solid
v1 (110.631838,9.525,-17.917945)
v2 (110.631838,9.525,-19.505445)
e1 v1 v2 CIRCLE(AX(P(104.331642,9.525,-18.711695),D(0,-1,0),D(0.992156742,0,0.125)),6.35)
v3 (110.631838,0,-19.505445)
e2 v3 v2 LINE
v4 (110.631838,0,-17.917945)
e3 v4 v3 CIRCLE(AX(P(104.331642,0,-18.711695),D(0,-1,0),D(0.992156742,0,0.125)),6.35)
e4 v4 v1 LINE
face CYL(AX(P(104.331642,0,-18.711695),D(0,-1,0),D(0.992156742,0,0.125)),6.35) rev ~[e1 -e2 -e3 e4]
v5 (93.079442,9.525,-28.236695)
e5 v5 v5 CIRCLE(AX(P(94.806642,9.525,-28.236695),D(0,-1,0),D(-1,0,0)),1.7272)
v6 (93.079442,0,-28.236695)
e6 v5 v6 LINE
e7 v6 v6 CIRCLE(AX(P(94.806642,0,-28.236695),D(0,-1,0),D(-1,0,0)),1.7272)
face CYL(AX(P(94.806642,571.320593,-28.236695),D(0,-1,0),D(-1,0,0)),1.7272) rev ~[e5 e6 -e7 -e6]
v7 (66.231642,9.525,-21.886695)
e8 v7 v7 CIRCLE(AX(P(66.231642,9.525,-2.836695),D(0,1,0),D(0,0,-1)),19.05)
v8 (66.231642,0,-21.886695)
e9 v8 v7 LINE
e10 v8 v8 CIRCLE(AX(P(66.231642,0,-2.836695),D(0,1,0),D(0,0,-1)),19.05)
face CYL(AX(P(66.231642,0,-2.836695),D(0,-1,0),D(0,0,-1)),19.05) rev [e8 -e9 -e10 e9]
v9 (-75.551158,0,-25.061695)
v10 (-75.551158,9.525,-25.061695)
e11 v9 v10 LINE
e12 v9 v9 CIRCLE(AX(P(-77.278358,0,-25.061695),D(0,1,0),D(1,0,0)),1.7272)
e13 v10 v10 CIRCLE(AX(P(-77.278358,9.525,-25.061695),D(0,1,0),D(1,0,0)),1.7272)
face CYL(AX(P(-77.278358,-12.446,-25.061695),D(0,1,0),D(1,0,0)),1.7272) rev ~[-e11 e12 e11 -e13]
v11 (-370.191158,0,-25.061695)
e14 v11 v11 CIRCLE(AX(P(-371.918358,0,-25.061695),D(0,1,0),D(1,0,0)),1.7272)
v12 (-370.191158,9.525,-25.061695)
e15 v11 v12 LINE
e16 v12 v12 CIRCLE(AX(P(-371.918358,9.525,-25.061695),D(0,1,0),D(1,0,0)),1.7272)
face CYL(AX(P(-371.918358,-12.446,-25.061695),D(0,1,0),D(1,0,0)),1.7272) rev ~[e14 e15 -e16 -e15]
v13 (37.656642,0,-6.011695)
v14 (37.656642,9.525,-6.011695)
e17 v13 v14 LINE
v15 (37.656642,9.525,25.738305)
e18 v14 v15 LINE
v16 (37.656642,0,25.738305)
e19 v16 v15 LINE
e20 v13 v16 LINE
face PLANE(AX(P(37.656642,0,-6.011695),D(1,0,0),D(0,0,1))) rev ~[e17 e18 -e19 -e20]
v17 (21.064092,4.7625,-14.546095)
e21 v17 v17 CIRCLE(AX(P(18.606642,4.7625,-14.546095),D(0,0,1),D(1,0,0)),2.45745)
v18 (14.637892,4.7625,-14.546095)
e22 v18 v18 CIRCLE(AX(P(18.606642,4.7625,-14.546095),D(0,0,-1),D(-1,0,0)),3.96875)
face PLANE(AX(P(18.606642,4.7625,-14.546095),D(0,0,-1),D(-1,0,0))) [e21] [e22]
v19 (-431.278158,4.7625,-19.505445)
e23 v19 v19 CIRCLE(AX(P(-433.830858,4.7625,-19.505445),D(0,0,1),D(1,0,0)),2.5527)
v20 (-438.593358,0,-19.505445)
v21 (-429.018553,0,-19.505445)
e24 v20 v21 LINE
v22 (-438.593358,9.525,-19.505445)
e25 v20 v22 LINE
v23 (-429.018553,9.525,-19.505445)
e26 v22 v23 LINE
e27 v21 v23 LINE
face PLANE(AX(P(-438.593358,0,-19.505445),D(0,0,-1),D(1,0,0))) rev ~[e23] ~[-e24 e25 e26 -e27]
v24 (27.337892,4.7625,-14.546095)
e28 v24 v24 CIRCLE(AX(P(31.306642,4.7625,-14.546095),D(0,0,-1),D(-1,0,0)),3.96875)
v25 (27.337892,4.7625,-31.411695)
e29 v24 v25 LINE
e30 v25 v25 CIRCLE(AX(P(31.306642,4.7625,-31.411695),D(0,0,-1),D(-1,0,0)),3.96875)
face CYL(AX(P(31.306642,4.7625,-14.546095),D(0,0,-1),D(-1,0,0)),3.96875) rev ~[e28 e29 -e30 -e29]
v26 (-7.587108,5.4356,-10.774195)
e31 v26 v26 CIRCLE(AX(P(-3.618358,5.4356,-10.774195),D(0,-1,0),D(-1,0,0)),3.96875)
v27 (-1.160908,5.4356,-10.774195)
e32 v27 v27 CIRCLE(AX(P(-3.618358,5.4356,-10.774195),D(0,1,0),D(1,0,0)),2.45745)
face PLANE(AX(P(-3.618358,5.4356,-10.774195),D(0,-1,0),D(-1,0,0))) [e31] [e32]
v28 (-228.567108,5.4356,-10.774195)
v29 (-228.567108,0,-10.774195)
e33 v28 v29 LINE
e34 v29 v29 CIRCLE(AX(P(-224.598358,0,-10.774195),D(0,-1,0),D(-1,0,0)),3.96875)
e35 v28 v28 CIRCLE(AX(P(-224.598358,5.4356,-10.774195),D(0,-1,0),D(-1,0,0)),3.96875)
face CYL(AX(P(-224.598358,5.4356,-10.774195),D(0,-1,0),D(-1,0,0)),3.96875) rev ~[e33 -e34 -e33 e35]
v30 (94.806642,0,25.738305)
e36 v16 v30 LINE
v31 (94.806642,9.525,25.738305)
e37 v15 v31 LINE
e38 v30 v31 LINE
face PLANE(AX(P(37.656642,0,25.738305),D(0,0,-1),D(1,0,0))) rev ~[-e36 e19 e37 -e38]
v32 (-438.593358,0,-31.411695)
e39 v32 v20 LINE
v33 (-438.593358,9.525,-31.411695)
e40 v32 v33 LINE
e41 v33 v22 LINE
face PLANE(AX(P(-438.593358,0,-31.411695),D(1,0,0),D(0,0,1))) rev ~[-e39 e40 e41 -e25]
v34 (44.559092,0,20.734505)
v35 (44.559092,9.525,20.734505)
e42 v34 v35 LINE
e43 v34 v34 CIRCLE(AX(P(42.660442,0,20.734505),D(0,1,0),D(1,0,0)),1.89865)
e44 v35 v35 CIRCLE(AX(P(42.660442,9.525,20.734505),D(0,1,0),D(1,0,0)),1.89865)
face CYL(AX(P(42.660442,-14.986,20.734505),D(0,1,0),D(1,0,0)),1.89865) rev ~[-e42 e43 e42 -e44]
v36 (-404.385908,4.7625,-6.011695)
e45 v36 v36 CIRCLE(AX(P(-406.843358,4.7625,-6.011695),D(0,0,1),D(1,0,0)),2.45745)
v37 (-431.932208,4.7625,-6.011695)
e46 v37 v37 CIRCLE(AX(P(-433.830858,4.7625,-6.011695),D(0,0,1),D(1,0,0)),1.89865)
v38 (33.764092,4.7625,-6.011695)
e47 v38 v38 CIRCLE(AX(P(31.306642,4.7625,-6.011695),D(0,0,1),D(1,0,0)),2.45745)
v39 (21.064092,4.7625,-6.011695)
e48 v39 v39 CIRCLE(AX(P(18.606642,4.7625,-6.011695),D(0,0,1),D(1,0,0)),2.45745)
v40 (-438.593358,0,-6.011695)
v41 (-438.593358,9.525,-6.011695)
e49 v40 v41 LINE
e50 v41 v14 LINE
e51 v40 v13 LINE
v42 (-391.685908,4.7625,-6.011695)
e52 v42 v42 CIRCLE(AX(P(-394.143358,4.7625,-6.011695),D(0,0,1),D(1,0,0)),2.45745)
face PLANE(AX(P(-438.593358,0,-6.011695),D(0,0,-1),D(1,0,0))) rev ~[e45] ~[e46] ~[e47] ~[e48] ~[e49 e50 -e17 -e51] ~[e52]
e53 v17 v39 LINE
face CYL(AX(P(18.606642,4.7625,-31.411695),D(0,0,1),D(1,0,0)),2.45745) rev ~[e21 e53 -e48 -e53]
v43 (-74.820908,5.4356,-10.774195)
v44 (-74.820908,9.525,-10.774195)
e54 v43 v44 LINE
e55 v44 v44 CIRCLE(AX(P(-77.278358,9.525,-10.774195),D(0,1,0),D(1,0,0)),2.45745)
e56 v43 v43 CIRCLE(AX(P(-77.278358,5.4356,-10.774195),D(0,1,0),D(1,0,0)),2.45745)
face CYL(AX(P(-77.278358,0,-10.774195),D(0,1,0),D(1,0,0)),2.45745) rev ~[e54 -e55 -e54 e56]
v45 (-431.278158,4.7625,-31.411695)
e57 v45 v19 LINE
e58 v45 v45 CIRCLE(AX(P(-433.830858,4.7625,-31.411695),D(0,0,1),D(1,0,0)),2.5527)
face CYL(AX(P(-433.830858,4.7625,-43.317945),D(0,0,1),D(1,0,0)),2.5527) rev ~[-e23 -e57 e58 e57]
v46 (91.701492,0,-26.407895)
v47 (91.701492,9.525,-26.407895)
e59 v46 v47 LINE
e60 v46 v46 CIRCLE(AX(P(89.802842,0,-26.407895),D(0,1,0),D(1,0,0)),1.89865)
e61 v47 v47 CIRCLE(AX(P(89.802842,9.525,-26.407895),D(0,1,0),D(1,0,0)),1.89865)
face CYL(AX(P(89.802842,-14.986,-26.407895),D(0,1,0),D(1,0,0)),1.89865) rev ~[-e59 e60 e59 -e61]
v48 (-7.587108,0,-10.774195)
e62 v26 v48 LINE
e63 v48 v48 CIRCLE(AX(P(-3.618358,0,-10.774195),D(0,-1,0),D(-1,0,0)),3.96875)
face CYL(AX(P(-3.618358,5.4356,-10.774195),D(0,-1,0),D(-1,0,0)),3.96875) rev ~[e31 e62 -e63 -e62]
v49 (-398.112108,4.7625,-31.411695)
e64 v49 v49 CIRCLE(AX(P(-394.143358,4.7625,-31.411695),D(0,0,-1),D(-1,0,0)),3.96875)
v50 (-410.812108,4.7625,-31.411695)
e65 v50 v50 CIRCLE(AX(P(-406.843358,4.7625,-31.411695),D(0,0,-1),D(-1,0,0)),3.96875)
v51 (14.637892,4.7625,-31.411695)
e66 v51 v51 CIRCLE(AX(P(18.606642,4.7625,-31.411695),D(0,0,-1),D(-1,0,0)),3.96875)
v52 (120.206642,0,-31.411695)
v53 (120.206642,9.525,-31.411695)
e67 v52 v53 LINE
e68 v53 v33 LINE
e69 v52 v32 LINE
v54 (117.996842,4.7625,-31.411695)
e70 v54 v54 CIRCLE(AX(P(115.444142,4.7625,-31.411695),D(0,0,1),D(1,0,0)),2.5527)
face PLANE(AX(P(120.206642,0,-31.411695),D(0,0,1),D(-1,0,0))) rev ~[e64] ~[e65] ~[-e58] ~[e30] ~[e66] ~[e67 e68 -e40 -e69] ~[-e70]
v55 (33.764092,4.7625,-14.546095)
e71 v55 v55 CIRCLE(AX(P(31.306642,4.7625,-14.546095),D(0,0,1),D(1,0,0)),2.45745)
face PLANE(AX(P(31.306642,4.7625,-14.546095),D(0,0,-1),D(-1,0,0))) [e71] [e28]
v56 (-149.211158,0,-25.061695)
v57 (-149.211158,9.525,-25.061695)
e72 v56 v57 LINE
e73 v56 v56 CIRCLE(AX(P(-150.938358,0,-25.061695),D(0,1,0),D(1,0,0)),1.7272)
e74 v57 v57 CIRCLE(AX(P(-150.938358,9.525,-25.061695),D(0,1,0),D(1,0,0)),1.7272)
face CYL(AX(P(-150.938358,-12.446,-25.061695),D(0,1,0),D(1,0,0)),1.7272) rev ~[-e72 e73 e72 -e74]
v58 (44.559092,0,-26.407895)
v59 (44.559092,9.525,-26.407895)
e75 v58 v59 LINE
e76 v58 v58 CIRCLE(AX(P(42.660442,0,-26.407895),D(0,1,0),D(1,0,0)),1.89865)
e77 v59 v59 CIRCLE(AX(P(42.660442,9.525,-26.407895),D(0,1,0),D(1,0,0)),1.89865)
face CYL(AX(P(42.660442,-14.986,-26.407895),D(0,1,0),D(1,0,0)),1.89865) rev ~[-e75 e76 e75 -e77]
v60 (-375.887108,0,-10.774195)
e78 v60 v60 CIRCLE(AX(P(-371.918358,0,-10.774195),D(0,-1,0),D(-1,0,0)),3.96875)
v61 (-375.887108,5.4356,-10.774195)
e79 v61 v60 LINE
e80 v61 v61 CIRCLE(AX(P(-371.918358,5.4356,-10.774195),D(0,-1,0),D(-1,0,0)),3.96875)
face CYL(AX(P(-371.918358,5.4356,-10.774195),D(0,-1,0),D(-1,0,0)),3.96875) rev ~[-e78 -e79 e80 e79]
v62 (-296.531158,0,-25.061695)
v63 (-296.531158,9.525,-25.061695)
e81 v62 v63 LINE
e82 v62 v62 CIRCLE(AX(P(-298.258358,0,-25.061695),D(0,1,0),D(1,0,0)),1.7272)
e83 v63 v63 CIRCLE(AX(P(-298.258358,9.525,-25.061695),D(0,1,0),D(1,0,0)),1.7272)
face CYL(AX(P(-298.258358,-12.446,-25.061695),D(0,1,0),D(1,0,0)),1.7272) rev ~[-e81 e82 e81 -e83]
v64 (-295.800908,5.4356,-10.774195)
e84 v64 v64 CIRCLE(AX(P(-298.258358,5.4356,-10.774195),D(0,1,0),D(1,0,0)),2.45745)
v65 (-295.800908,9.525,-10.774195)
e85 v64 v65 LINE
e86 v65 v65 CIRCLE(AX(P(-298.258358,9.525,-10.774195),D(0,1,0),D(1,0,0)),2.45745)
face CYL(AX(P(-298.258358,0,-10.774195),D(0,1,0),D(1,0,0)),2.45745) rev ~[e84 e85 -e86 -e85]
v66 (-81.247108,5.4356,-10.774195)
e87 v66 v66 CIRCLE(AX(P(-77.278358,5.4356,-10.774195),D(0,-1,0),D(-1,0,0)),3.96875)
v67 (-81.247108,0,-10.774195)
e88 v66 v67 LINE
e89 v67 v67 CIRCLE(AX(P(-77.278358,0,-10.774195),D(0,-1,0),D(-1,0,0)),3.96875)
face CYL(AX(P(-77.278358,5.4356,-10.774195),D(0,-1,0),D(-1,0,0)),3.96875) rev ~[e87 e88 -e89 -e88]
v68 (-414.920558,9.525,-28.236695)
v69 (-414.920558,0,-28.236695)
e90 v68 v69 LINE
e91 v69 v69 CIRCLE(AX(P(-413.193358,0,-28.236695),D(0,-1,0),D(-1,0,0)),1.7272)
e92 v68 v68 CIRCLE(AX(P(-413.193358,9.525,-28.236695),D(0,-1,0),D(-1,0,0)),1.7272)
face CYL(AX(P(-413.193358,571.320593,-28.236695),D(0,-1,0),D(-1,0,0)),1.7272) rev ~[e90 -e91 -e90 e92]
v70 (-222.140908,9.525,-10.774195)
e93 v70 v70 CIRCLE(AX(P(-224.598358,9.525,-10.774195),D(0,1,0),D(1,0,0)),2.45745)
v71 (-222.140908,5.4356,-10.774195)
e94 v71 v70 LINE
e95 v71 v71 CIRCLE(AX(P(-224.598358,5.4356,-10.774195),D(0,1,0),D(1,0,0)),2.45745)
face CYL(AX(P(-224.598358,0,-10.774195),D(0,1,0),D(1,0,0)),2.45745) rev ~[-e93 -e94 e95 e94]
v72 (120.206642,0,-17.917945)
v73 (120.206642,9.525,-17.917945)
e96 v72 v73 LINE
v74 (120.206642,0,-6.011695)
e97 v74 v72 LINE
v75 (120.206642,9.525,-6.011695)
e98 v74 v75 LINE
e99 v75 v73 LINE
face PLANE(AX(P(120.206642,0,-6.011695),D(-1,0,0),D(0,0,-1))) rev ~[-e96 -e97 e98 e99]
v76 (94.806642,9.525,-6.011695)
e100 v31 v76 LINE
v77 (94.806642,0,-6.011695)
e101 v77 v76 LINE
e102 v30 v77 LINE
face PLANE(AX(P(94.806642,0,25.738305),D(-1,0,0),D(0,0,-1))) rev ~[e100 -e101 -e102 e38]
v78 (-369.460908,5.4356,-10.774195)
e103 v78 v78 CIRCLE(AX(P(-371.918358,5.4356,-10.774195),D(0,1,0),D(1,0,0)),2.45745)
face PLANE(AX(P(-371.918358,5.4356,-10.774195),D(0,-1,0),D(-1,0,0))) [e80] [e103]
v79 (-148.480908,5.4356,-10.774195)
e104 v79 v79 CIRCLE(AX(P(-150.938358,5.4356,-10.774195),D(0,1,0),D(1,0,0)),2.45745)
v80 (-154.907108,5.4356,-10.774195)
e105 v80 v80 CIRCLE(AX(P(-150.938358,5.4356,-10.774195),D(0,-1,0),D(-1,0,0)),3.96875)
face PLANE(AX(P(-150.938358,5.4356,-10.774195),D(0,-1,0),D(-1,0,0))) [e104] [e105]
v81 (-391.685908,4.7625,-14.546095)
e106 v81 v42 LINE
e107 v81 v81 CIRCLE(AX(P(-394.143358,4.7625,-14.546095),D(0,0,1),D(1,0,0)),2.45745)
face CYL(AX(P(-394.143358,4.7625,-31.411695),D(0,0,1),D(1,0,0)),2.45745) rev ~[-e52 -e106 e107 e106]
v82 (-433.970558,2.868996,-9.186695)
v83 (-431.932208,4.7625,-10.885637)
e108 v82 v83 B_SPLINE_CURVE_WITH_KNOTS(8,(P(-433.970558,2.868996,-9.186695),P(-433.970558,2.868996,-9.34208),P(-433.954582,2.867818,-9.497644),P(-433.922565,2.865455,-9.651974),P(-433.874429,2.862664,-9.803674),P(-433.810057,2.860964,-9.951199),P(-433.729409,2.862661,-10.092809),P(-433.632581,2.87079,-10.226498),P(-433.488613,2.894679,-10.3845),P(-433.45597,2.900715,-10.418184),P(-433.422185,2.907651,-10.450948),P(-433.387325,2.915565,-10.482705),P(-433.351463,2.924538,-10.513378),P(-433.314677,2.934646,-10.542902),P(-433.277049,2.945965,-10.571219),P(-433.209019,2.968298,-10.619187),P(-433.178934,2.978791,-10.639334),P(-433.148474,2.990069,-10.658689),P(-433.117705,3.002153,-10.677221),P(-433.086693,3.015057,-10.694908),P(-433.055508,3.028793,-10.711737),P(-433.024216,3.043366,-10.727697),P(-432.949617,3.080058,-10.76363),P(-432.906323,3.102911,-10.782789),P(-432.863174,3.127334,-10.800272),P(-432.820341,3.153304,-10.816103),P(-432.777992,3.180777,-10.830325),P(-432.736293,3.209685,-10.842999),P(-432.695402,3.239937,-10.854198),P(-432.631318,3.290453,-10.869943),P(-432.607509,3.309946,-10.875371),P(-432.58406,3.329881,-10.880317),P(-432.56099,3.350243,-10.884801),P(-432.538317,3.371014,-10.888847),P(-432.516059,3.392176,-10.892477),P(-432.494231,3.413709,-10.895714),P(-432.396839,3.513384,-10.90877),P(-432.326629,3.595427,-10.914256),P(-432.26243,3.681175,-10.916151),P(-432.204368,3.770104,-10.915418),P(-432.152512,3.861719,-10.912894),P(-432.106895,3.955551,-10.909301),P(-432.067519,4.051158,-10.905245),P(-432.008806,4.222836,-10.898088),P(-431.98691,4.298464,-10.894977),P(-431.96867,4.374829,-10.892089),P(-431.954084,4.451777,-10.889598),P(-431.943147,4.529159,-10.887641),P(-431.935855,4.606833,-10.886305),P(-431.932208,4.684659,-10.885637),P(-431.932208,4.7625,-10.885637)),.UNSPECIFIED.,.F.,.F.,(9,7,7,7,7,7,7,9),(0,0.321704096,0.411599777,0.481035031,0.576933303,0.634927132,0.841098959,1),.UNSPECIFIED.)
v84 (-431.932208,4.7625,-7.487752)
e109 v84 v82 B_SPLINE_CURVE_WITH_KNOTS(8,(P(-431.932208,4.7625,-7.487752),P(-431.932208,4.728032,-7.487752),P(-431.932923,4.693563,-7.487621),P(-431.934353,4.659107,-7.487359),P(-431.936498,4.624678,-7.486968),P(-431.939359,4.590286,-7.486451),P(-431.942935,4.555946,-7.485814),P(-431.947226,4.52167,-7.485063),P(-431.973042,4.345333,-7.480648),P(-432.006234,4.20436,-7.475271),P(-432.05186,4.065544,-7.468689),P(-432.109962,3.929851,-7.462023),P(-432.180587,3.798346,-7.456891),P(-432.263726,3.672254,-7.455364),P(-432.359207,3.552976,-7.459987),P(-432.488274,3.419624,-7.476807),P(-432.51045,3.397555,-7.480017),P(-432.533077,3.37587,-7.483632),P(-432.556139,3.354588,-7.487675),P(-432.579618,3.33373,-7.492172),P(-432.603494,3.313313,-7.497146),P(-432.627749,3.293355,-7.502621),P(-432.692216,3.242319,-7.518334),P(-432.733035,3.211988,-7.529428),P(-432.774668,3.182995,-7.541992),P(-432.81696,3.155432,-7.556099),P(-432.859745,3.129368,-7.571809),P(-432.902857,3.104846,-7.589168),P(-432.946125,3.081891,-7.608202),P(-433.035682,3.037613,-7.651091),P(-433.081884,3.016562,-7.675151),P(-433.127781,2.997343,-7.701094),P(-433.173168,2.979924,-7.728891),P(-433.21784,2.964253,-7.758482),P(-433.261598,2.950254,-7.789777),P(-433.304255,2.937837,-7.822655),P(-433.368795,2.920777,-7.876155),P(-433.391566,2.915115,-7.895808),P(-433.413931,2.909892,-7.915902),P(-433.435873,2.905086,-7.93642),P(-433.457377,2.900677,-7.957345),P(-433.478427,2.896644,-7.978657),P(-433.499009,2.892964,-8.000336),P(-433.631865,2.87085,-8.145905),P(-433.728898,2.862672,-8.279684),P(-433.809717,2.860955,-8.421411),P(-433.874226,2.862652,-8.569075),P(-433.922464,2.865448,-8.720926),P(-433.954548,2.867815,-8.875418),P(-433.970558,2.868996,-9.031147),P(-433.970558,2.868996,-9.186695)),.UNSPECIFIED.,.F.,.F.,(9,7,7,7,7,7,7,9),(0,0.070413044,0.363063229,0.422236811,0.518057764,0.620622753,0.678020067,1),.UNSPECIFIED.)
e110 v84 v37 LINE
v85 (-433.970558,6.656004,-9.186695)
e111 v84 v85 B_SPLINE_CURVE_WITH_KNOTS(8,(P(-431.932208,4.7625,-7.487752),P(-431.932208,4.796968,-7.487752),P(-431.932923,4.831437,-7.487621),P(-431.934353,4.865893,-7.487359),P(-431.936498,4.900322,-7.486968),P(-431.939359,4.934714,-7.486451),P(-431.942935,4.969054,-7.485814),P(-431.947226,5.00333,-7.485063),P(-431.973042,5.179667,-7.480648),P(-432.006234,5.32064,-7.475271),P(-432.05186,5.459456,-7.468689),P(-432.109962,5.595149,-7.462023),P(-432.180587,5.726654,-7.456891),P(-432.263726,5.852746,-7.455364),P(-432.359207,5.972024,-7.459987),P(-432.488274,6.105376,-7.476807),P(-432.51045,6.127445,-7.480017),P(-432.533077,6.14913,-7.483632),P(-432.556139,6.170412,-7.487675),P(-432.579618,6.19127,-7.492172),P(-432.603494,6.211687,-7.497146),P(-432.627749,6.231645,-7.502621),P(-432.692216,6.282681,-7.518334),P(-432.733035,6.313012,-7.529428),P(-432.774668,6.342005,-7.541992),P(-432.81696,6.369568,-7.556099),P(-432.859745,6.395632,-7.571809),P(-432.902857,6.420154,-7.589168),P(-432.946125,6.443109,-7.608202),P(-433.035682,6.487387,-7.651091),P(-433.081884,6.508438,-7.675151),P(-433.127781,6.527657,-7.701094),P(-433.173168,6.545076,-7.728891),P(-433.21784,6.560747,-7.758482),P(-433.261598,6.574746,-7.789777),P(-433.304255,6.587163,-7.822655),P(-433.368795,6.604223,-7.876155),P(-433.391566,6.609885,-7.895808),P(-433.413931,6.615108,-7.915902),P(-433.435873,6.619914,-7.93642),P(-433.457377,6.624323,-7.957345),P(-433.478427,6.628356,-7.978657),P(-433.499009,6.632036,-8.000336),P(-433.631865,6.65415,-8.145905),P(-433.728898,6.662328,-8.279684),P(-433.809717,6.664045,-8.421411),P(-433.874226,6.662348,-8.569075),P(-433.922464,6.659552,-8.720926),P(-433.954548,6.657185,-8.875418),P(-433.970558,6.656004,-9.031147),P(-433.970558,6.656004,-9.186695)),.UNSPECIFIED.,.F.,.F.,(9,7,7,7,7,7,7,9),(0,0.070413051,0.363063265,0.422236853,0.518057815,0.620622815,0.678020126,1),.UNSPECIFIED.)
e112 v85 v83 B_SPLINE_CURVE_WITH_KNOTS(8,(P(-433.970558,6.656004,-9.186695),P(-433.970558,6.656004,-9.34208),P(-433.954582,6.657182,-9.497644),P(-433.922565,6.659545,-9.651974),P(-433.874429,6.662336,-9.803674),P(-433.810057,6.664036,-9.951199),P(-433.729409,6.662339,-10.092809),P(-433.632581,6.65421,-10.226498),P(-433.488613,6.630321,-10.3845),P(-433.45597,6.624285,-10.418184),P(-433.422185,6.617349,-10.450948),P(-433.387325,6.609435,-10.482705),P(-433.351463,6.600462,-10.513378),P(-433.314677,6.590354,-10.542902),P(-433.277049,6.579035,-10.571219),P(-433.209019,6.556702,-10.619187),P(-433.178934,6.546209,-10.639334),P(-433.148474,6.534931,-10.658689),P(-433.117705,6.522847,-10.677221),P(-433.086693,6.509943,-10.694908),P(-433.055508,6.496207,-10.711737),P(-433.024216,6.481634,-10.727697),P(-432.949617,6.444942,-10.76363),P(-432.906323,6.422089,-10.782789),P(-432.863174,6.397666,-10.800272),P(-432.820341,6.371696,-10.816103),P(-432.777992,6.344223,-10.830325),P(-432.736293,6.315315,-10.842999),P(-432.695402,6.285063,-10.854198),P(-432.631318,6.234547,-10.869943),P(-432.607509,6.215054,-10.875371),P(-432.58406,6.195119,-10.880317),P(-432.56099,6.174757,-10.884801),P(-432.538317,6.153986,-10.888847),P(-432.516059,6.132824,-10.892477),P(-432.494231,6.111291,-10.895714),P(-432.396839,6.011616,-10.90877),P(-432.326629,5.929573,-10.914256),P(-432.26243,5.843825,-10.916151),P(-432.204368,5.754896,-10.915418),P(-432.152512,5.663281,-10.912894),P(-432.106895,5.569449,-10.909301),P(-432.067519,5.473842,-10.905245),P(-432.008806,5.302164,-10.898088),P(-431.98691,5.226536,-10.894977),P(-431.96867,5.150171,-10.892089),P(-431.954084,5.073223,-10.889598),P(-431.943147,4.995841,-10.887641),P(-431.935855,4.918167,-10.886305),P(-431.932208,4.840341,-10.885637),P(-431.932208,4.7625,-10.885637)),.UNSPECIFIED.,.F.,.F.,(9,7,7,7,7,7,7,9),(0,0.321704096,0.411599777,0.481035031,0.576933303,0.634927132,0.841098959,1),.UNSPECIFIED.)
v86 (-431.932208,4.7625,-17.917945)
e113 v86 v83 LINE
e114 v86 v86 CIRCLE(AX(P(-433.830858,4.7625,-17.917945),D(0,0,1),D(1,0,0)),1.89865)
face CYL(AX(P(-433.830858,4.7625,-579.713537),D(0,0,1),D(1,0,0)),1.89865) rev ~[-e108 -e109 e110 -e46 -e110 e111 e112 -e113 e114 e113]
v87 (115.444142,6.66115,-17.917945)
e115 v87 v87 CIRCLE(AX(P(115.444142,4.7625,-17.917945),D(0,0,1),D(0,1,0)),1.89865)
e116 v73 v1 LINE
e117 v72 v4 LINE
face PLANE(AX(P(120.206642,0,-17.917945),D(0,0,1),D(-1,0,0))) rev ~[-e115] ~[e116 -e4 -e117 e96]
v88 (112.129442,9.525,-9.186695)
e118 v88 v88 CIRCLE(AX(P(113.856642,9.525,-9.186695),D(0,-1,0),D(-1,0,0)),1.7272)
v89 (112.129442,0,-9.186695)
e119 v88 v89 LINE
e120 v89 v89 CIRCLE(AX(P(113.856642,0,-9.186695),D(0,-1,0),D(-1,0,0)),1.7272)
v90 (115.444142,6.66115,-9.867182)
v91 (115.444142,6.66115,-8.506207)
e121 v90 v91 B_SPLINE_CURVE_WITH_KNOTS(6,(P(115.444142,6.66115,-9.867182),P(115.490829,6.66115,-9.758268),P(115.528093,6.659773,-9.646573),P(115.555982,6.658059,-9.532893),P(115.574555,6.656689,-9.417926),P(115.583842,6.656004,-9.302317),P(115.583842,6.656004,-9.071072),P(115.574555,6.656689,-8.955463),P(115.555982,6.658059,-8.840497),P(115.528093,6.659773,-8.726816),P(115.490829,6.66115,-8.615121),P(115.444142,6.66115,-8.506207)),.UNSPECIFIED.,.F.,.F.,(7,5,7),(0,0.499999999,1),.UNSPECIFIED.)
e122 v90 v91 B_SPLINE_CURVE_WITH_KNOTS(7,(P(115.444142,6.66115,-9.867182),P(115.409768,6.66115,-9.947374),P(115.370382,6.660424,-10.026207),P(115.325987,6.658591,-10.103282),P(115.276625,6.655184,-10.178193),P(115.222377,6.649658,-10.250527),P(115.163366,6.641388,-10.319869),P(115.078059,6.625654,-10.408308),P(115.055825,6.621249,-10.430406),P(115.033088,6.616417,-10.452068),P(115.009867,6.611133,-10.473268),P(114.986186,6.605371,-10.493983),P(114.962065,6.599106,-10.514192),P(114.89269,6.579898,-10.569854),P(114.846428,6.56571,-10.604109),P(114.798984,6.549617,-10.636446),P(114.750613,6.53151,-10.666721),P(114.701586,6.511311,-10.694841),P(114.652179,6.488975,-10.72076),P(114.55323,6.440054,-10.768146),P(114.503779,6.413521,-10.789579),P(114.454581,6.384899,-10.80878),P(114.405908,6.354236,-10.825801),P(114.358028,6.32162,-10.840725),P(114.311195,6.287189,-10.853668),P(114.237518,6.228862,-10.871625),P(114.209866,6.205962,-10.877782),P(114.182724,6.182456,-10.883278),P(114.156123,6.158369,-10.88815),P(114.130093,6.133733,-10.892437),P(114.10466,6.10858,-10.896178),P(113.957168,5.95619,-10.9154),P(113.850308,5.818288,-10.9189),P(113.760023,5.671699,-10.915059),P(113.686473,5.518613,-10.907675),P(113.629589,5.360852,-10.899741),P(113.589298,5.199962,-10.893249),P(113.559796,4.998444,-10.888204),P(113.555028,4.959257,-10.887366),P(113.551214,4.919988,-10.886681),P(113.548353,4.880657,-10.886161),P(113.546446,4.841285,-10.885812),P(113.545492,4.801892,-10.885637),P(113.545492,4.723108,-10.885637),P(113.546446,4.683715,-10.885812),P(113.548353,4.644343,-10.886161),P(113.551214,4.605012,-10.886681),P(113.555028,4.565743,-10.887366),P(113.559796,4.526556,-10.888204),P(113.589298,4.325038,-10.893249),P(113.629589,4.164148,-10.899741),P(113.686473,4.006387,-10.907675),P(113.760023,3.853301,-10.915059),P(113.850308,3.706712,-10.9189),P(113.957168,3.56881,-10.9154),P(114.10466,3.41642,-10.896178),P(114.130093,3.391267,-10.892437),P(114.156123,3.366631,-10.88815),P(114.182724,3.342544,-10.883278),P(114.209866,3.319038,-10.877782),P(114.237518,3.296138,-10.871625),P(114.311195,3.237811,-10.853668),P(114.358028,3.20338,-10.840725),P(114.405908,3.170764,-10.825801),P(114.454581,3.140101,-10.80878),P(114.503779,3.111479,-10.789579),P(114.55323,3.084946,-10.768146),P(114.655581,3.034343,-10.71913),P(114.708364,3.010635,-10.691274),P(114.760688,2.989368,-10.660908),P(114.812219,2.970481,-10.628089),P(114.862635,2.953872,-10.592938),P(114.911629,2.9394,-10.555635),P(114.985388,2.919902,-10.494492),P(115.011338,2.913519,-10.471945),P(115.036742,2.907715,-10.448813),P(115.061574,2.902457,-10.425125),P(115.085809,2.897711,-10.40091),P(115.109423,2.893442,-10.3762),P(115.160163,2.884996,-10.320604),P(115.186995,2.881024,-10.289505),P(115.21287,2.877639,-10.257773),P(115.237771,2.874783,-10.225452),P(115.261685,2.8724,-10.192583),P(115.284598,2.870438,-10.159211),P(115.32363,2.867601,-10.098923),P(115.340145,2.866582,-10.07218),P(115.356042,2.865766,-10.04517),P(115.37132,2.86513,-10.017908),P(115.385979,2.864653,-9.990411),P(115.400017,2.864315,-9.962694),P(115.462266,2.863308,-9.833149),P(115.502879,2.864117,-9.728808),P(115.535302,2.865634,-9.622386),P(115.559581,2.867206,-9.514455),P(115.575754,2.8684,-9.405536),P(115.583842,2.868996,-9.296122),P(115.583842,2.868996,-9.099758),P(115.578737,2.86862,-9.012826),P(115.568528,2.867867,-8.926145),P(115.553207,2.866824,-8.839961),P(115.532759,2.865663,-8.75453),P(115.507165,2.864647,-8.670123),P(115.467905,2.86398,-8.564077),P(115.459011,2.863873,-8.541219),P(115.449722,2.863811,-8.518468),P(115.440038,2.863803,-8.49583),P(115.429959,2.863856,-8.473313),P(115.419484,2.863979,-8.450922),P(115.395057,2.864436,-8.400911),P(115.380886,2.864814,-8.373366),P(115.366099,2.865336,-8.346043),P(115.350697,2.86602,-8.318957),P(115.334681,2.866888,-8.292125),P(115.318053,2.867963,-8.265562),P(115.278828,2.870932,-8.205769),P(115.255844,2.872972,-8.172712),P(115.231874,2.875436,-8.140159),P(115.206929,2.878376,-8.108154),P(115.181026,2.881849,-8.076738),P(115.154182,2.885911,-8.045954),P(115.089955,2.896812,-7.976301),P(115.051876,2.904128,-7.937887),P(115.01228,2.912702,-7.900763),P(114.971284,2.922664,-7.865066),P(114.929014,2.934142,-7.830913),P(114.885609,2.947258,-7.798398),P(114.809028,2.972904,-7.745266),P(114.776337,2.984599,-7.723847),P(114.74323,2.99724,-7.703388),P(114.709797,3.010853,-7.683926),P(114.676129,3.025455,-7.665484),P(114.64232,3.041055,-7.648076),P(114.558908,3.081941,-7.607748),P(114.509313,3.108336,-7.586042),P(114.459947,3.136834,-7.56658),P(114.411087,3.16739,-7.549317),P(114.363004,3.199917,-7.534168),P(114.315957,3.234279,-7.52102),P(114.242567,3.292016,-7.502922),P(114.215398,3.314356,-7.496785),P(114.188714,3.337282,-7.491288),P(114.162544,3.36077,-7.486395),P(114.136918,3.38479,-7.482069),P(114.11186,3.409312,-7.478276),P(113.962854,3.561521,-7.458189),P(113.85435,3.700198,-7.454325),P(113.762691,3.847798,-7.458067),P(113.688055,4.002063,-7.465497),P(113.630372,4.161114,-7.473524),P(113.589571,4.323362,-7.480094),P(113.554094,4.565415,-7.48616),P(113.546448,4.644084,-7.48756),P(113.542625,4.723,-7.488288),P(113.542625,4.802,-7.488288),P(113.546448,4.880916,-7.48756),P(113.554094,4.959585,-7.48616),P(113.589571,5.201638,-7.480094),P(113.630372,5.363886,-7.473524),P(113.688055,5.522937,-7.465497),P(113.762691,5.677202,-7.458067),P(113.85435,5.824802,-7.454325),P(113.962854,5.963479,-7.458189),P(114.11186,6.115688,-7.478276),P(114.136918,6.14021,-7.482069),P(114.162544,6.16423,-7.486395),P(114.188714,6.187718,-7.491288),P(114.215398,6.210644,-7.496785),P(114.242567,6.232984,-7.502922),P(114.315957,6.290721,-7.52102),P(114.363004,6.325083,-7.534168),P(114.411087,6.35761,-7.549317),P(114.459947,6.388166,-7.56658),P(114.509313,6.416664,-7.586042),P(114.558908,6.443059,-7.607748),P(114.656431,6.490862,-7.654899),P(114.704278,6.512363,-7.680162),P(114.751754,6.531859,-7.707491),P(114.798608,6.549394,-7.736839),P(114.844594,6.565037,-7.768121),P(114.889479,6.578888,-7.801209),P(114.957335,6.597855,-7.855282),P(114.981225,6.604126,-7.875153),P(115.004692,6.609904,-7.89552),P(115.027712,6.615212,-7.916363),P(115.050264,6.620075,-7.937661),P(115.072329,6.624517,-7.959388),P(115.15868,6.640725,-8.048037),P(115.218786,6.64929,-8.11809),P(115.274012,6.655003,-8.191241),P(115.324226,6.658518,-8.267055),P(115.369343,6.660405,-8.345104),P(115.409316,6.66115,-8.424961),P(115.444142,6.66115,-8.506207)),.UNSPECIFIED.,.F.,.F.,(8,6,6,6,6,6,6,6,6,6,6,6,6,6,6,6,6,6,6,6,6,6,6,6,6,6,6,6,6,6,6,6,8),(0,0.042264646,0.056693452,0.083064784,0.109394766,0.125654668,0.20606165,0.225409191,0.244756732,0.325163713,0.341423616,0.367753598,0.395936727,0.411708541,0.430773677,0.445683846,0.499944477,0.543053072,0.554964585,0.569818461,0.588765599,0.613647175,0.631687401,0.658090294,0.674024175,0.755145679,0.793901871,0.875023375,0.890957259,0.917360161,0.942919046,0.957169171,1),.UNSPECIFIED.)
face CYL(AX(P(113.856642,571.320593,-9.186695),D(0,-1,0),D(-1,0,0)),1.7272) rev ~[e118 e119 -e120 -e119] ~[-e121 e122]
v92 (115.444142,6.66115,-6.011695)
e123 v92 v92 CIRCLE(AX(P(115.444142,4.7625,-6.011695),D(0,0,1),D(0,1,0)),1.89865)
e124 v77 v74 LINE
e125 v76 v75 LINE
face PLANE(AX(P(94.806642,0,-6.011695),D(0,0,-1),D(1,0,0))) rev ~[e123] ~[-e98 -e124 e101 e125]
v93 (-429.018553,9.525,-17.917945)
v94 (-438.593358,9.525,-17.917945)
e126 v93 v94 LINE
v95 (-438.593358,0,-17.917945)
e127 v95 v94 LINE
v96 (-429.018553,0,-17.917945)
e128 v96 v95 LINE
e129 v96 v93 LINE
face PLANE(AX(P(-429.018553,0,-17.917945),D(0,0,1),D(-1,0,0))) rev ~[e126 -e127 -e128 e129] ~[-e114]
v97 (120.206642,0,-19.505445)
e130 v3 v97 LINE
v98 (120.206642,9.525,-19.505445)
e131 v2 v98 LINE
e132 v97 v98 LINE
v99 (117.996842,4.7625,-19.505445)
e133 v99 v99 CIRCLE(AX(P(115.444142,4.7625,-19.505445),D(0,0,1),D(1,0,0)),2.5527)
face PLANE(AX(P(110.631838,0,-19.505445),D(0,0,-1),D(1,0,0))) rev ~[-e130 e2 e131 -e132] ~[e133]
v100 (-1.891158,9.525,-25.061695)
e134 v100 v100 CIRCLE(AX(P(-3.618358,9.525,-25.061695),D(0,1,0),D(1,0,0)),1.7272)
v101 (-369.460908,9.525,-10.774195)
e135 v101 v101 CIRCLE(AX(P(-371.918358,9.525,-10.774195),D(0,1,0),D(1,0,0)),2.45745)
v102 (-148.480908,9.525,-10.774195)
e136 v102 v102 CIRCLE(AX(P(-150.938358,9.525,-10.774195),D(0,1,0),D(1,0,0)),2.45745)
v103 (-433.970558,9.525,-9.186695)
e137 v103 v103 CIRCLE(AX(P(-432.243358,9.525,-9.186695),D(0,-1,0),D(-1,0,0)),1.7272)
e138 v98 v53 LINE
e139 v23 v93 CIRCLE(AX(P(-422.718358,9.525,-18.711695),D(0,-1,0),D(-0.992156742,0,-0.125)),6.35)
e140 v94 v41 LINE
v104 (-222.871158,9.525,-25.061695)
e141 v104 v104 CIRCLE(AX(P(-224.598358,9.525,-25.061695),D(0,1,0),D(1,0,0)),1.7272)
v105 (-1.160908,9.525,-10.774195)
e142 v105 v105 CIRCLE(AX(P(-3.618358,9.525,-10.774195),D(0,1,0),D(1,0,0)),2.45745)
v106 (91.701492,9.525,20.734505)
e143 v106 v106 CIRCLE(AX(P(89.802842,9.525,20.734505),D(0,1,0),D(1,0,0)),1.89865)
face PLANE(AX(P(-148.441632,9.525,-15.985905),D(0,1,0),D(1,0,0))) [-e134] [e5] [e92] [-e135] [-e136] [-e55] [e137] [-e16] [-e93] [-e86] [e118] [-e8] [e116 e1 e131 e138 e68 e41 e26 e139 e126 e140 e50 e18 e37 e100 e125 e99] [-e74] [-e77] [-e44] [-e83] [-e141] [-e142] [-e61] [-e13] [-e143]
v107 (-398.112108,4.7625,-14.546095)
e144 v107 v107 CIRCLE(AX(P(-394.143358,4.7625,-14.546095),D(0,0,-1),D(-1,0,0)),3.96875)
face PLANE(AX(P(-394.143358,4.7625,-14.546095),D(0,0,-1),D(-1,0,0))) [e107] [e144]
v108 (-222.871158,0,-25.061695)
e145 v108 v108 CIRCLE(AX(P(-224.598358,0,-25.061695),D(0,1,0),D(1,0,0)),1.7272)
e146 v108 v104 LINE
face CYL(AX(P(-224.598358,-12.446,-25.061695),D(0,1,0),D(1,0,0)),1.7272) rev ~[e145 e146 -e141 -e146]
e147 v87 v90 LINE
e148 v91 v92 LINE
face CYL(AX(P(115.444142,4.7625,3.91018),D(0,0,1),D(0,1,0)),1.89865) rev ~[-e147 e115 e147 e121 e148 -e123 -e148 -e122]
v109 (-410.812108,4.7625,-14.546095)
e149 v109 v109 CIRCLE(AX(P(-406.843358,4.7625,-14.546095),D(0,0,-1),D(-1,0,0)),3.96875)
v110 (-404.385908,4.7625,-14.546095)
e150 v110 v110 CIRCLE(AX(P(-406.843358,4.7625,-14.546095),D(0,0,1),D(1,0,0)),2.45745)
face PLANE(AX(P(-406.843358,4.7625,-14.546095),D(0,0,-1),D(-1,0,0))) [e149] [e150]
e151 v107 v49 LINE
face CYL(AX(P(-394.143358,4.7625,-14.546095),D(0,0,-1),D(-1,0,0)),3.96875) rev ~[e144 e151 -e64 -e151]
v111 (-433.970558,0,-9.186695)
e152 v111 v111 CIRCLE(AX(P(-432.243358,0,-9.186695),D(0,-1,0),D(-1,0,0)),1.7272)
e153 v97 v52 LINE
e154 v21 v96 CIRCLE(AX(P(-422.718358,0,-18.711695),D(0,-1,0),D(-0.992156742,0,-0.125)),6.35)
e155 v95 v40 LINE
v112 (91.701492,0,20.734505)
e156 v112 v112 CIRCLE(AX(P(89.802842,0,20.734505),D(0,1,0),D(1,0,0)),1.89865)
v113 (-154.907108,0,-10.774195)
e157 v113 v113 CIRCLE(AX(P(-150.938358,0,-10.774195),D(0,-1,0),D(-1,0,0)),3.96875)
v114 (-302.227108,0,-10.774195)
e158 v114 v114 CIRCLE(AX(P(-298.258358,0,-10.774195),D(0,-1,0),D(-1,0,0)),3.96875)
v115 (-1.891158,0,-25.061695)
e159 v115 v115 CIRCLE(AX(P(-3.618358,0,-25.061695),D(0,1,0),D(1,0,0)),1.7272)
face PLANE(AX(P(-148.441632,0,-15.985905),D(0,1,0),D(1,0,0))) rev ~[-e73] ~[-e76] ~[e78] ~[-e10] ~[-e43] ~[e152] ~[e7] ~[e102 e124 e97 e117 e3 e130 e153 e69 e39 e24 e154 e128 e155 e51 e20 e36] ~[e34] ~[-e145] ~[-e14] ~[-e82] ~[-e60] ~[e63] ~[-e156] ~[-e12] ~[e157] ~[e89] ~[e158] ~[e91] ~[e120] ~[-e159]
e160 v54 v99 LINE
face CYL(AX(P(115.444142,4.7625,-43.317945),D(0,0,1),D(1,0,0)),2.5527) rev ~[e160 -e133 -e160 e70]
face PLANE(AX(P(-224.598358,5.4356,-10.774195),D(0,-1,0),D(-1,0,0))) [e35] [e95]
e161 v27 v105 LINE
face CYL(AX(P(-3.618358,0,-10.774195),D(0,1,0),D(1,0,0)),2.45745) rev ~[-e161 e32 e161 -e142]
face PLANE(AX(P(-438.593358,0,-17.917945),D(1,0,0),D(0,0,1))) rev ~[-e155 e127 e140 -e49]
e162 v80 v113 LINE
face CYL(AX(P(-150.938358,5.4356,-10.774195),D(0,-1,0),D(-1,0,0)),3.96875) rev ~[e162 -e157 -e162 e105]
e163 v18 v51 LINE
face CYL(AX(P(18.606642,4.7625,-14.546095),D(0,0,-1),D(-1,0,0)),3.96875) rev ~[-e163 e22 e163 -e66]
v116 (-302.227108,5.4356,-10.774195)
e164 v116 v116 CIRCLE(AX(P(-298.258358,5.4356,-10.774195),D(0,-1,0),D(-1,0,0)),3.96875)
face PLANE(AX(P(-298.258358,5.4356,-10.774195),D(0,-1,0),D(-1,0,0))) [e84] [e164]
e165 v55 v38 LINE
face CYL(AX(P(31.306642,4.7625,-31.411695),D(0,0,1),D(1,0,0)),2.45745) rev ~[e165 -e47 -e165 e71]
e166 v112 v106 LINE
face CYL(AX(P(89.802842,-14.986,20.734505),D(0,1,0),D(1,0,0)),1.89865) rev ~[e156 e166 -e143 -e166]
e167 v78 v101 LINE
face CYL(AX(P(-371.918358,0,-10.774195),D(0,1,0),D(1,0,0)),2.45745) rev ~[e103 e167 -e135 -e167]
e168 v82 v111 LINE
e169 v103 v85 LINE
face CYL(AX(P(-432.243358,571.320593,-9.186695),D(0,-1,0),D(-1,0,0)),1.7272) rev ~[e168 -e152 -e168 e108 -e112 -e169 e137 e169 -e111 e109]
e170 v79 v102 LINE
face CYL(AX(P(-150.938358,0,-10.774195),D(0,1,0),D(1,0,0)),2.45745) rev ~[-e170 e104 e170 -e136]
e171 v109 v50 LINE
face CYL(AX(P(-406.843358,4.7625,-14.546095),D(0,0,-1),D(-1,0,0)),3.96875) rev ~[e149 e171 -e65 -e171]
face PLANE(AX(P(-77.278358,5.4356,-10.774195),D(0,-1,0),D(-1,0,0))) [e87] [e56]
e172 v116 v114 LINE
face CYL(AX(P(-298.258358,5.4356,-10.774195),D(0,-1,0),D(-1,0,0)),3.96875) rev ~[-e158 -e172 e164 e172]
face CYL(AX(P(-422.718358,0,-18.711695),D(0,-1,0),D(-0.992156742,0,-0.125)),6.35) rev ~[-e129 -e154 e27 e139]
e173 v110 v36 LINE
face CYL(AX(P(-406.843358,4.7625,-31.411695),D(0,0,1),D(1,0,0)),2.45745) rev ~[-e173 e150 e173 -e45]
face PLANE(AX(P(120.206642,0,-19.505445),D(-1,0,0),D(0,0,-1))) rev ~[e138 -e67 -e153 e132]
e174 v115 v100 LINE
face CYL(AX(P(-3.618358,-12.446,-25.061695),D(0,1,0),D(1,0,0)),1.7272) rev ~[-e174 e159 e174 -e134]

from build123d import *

# Parameters (mm, degrees)
SKETCH1_R                                      = 19.05
BOSS_EXTRUDE1_DEPTH                            = 9.525
SKETCH2_W                                      = 1.89865
SKETCH2_H                                      = 43.65625
F_10_CLEARANCE_HOLE1_D                         = 5.1054
F_10_CLEARANCE_HOLE1_DEPTH                     = 11.90625
F_10_CLEARANCE_HOLE2_D                         = 5.1054
F_10_CLEARANCE_HOLE2_DEPTH                     = 11.90625
F_10_24_TAPPED_HOLE2_D                         = 3.7973
F_10_24_TAPPED_HOLE3_D                         = 3.7973
F_10_24_TAPPED_HOLE3_DEPTH                     = 14.986
F_10_24_TAPPED_HOLE3_TIP                       = 1.140824014
CBORE_FOR_8_SOCKET_HEAD_CAP_SCREW1_D           = 4.9149
CBORE_FOR_8_SOCKET_HEAD_CAP_SCREW1_CBORE_D     = 7.9375
CBORE_FOR_8_SOCKET_HEAD_CAP_SCREW1_CBORE_DEPTH = 16.8656
CBORE_FOR_8_SOCKET_HEAD_CAP_SCREW2_D           = 4.9149
CBORE_FOR_8_SOCKET_HEAD_CAP_SCREW2_CBORE_D     = 7.9375
CBORE_FOR_8_SOCKET_HEAD_CAP_SCREW2_CBORE_DEPTH = 5.4356
F_8_32_TAPPED_HOLE1_D                          = 3.4544
F_8_32_TAPPED_HOLE1_DEPTH                      = 12.446
F_8_32_TAPPED_HOLE1_TIP                        = 1.037806461
F_8_32_TAPPED_HOLE2_D                          = 3.4544


with BuildPart() as part:
    # Sketch1 → Boss-Extrude1 (new body)
    with BuildSketch(Plane(origin=(0, 0, 0), x_dir=(1, 0, 0), z_dir=(0, 1, 0))):
        with BuildLine():
            Line((120.206642486, 6.011694636), (120.206642486, 17.917944636))
            Line((120.206642486, 17.917944636), (110.631837795, 17.917944636))
            ThreePointArc((110.631837795, 17.917944636), (97.981642486, 18.711694636), (110.631837795, 19.505444636))
            Line((110.631837795, 19.505444636), (120.206642486, 19.505444636))
            Line((120.206642486, 19.505444636), (120.206642486, 31.411694636))
            Line((120.206642486, 31.411694636), (-438.593357514, 31.411694636))
            Line((-438.593357514, 31.411694636), (-438.593357514, 19.505444636))
            Line((-438.593357514, 19.505444636), (-429.018552824, 19.505444636))
            ThreePointArc((-429.018552824, 19.505444636), (-416.368357514, 18.711694636), (-429.018552824, 17.917944636))
            Line((-429.018552824, 17.917944636), (-438.593357514, 17.917944636))
            Line((-438.593357514, 17.917944636), (-438.593357514, 6.011694636))
            Line((-438.593357514, 6.011694636), (37.656642486, 6.011694636))
            Line((37.656642486, 6.011694636), (37.656642486, -25.738305364))
            Line((37.656642486, -25.738305364), (94.806642486, -25.738305364))
            Line((94.806642486, -25.738305364), (94.806642486, 6.011694636))
            Line((94.806642486, 6.011694636), (120.206642486, 6.011694636))
        make_face()
        with Locations(Location((66.231642486, 2.836694636, 0), (0, 0, 90))):
            Circle(SKETCH1_R, mode=Mode.SUBTRACT)
    extrude(amount=BOSS_EXTRUDE1_DEPTH)

    # Sketch2 → #10-24 Tapped Hole1 (revolve, cut)
    with BuildSketch(Plane(origin=(115.444142486, 4.7625, -17.917944636), x_dir=(0, 1, 0), z_dir=(1, 0, 0))):
        with Locations((0.949325, 21.828125)):
            Rectangle(SKETCH2_W, SKETCH2_H)
    revolve(axis=Axis((115.444142486, 4.7625, -24.267944636), (0, 0, 1)), mode=Mode.SUBTRACT)

    # #10 Clearance Hole1
    with Locations(Plane(origin=(0, 0, -31.411694636), x_dir=(-1, 0, 0), z_dir=(0, 0, -1))):
        with Locations((-115.444142486, 4.7625)):
            Hole(F_10_CLEARANCE_HOLE1_D / 2, depth=F_10_CLEARANCE_HOLE1_DEPTH)

    # #10 Clearance Hole2
    with Locations(Plane(origin=(0, 0, -31.411694636), x_dir=(-1, 0, 0), z_dir=(0, 0, -1))):
        with Locations((433.830857514, 4.7625)):
            Hole(F_10_CLEARANCE_HOLE2_D / 2, depth=F_10_CLEARANCE_HOLE2_DEPTH)

    # #10-24 Tapped Hole2 (through all)
    with Locations(Plane(origin=(0, 0, -17.917944636), x_dir=(-1, 0, 0), z_dir=(0, 0, -1))):
        with Locations((433.830857514, 4.7625)):
            Hole(F_10_24_TAPPED_HOLE2_D / 2)

    # #10-24 Tapped Hole3
    with Locations(Plane(origin=(0, 0, 0), x_dir=(-1, 0, 0), z_dir=(0, -1, 0))):
        with Locations((-89.802842486, 26.407894636), (-42.660442486, 26.407894636), (-42.660442486, -20.734505364), (-89.802842486, -20.734505364)):
            Hole(F_10_24_TAPPED_HOLE3_D / 2, depth=F_10_24_TAPPED_HOLE3_DEPTH)
            with Locations((0, 0, -(F_10_24_TAPPED_HOLE3_DEPTH + F_10_24_TAPPED_HOLE3_TIP / 2))):  # 118° drill point
                Cone(0, F_10_24_TAPPED_HOLE3_D / 2, F_10_24_TAPPED_HOLE3_TIP, mode=Mode.SUBTRACT)

    # CBORE for #8 Socket Head Cap Screw1 (through all)
    with Locations(Plane(origin=(0, 0, -31.411694636), x_dir=(-1, 0, 0), z_dir=(0, 0, -1))):
        with Locations((-31.306642486, 4.7625), (-18.606642486, 4.7625), (406.843357514, 4.7625), (394.143357514, 4.7625)):
            CounterBoreHole(CBORE_FOR_8_SOCKET_HEAD_CAP_SCREW1_D / 2, CBORE_FOR_8_SOCKET_HEAD_CAP_SCREW1_CBORE_D / 2, CBORE_FOR_8_SOCKET_HEAD_CAP_SCREW1_CBORE_DEPTH)

    # CBORE for #8 Socket Head Cap Screw2 (through all)
    with Locations(Plane(origin=(0, 0, 0), x_dir=(-1, 0, 0), z_dir=(0, -1, 0))):
        with Locations((371.918357514, 10.774194636), (298.258357514, 10.774194636), (224.598357514, 10.774194636), (150.938357514, 10.774194636), (77.278357514, 10.774194636), (3.618357514, 10.774194636)):
            CounterBoreHole(CBORE_FOR_8_SOCKET_HEAD_CAP_SCREW2_D / 2, CBORE_FOR_8_SOCKET_HEAD_CAP_SCREW2_CBORE_D / 2, CBORE_FOR_8_SOCKET_HEAD_CAP_SCREW2_CBORE_DEPTH)

    # #8-32 Tapped Hole1
    with Locations(Plane(origin=(0, 0, 0), x_dir=(-1, 0, 0), z_dir=(0, -1, 0))):
        with Locations((371.918357514, 25.061694636), (298.258357514, 25.061694636), (224.598357514, 25.061694636), (150.938357514, 25.061694636), (77.278357514, 25.061694636), (3.618357514, 25.061694636)):
            Hole(F_8_32_TAPPED_HOLE1_D / 2, depth=F_8_32_TAPPED_HOLE1_DEPTH)
            with Locations((0, 0, -(F_8_32_TAPPED_HOLE1_DEPTH + F_8_32_TAPPED_HOLE1_TIP / 2))):  # 118° drill point
                Cone(0, F_8_32_TAPPED_HOLE1_D / 2, F_8_32_TAPPED_HOLE1_TIP, mode=Mode.SUBTRACT)

    # #8-32 Tapped Hole2 (through all)
    with Locations(Plane(origin=(0, 9.525, 0), x_dir=(1, 0, 0), z_dir=(0, 1, 0))):
        with Locations((113.856642486, 9.186694636), (94.806642486, 28.236694636), (-413.193357514, 28.236694636), (-432.243357514, 9.186694636)):
            Hole(F_8_32_TAPPED_HOLE2_D / 2)


solid = part.part
